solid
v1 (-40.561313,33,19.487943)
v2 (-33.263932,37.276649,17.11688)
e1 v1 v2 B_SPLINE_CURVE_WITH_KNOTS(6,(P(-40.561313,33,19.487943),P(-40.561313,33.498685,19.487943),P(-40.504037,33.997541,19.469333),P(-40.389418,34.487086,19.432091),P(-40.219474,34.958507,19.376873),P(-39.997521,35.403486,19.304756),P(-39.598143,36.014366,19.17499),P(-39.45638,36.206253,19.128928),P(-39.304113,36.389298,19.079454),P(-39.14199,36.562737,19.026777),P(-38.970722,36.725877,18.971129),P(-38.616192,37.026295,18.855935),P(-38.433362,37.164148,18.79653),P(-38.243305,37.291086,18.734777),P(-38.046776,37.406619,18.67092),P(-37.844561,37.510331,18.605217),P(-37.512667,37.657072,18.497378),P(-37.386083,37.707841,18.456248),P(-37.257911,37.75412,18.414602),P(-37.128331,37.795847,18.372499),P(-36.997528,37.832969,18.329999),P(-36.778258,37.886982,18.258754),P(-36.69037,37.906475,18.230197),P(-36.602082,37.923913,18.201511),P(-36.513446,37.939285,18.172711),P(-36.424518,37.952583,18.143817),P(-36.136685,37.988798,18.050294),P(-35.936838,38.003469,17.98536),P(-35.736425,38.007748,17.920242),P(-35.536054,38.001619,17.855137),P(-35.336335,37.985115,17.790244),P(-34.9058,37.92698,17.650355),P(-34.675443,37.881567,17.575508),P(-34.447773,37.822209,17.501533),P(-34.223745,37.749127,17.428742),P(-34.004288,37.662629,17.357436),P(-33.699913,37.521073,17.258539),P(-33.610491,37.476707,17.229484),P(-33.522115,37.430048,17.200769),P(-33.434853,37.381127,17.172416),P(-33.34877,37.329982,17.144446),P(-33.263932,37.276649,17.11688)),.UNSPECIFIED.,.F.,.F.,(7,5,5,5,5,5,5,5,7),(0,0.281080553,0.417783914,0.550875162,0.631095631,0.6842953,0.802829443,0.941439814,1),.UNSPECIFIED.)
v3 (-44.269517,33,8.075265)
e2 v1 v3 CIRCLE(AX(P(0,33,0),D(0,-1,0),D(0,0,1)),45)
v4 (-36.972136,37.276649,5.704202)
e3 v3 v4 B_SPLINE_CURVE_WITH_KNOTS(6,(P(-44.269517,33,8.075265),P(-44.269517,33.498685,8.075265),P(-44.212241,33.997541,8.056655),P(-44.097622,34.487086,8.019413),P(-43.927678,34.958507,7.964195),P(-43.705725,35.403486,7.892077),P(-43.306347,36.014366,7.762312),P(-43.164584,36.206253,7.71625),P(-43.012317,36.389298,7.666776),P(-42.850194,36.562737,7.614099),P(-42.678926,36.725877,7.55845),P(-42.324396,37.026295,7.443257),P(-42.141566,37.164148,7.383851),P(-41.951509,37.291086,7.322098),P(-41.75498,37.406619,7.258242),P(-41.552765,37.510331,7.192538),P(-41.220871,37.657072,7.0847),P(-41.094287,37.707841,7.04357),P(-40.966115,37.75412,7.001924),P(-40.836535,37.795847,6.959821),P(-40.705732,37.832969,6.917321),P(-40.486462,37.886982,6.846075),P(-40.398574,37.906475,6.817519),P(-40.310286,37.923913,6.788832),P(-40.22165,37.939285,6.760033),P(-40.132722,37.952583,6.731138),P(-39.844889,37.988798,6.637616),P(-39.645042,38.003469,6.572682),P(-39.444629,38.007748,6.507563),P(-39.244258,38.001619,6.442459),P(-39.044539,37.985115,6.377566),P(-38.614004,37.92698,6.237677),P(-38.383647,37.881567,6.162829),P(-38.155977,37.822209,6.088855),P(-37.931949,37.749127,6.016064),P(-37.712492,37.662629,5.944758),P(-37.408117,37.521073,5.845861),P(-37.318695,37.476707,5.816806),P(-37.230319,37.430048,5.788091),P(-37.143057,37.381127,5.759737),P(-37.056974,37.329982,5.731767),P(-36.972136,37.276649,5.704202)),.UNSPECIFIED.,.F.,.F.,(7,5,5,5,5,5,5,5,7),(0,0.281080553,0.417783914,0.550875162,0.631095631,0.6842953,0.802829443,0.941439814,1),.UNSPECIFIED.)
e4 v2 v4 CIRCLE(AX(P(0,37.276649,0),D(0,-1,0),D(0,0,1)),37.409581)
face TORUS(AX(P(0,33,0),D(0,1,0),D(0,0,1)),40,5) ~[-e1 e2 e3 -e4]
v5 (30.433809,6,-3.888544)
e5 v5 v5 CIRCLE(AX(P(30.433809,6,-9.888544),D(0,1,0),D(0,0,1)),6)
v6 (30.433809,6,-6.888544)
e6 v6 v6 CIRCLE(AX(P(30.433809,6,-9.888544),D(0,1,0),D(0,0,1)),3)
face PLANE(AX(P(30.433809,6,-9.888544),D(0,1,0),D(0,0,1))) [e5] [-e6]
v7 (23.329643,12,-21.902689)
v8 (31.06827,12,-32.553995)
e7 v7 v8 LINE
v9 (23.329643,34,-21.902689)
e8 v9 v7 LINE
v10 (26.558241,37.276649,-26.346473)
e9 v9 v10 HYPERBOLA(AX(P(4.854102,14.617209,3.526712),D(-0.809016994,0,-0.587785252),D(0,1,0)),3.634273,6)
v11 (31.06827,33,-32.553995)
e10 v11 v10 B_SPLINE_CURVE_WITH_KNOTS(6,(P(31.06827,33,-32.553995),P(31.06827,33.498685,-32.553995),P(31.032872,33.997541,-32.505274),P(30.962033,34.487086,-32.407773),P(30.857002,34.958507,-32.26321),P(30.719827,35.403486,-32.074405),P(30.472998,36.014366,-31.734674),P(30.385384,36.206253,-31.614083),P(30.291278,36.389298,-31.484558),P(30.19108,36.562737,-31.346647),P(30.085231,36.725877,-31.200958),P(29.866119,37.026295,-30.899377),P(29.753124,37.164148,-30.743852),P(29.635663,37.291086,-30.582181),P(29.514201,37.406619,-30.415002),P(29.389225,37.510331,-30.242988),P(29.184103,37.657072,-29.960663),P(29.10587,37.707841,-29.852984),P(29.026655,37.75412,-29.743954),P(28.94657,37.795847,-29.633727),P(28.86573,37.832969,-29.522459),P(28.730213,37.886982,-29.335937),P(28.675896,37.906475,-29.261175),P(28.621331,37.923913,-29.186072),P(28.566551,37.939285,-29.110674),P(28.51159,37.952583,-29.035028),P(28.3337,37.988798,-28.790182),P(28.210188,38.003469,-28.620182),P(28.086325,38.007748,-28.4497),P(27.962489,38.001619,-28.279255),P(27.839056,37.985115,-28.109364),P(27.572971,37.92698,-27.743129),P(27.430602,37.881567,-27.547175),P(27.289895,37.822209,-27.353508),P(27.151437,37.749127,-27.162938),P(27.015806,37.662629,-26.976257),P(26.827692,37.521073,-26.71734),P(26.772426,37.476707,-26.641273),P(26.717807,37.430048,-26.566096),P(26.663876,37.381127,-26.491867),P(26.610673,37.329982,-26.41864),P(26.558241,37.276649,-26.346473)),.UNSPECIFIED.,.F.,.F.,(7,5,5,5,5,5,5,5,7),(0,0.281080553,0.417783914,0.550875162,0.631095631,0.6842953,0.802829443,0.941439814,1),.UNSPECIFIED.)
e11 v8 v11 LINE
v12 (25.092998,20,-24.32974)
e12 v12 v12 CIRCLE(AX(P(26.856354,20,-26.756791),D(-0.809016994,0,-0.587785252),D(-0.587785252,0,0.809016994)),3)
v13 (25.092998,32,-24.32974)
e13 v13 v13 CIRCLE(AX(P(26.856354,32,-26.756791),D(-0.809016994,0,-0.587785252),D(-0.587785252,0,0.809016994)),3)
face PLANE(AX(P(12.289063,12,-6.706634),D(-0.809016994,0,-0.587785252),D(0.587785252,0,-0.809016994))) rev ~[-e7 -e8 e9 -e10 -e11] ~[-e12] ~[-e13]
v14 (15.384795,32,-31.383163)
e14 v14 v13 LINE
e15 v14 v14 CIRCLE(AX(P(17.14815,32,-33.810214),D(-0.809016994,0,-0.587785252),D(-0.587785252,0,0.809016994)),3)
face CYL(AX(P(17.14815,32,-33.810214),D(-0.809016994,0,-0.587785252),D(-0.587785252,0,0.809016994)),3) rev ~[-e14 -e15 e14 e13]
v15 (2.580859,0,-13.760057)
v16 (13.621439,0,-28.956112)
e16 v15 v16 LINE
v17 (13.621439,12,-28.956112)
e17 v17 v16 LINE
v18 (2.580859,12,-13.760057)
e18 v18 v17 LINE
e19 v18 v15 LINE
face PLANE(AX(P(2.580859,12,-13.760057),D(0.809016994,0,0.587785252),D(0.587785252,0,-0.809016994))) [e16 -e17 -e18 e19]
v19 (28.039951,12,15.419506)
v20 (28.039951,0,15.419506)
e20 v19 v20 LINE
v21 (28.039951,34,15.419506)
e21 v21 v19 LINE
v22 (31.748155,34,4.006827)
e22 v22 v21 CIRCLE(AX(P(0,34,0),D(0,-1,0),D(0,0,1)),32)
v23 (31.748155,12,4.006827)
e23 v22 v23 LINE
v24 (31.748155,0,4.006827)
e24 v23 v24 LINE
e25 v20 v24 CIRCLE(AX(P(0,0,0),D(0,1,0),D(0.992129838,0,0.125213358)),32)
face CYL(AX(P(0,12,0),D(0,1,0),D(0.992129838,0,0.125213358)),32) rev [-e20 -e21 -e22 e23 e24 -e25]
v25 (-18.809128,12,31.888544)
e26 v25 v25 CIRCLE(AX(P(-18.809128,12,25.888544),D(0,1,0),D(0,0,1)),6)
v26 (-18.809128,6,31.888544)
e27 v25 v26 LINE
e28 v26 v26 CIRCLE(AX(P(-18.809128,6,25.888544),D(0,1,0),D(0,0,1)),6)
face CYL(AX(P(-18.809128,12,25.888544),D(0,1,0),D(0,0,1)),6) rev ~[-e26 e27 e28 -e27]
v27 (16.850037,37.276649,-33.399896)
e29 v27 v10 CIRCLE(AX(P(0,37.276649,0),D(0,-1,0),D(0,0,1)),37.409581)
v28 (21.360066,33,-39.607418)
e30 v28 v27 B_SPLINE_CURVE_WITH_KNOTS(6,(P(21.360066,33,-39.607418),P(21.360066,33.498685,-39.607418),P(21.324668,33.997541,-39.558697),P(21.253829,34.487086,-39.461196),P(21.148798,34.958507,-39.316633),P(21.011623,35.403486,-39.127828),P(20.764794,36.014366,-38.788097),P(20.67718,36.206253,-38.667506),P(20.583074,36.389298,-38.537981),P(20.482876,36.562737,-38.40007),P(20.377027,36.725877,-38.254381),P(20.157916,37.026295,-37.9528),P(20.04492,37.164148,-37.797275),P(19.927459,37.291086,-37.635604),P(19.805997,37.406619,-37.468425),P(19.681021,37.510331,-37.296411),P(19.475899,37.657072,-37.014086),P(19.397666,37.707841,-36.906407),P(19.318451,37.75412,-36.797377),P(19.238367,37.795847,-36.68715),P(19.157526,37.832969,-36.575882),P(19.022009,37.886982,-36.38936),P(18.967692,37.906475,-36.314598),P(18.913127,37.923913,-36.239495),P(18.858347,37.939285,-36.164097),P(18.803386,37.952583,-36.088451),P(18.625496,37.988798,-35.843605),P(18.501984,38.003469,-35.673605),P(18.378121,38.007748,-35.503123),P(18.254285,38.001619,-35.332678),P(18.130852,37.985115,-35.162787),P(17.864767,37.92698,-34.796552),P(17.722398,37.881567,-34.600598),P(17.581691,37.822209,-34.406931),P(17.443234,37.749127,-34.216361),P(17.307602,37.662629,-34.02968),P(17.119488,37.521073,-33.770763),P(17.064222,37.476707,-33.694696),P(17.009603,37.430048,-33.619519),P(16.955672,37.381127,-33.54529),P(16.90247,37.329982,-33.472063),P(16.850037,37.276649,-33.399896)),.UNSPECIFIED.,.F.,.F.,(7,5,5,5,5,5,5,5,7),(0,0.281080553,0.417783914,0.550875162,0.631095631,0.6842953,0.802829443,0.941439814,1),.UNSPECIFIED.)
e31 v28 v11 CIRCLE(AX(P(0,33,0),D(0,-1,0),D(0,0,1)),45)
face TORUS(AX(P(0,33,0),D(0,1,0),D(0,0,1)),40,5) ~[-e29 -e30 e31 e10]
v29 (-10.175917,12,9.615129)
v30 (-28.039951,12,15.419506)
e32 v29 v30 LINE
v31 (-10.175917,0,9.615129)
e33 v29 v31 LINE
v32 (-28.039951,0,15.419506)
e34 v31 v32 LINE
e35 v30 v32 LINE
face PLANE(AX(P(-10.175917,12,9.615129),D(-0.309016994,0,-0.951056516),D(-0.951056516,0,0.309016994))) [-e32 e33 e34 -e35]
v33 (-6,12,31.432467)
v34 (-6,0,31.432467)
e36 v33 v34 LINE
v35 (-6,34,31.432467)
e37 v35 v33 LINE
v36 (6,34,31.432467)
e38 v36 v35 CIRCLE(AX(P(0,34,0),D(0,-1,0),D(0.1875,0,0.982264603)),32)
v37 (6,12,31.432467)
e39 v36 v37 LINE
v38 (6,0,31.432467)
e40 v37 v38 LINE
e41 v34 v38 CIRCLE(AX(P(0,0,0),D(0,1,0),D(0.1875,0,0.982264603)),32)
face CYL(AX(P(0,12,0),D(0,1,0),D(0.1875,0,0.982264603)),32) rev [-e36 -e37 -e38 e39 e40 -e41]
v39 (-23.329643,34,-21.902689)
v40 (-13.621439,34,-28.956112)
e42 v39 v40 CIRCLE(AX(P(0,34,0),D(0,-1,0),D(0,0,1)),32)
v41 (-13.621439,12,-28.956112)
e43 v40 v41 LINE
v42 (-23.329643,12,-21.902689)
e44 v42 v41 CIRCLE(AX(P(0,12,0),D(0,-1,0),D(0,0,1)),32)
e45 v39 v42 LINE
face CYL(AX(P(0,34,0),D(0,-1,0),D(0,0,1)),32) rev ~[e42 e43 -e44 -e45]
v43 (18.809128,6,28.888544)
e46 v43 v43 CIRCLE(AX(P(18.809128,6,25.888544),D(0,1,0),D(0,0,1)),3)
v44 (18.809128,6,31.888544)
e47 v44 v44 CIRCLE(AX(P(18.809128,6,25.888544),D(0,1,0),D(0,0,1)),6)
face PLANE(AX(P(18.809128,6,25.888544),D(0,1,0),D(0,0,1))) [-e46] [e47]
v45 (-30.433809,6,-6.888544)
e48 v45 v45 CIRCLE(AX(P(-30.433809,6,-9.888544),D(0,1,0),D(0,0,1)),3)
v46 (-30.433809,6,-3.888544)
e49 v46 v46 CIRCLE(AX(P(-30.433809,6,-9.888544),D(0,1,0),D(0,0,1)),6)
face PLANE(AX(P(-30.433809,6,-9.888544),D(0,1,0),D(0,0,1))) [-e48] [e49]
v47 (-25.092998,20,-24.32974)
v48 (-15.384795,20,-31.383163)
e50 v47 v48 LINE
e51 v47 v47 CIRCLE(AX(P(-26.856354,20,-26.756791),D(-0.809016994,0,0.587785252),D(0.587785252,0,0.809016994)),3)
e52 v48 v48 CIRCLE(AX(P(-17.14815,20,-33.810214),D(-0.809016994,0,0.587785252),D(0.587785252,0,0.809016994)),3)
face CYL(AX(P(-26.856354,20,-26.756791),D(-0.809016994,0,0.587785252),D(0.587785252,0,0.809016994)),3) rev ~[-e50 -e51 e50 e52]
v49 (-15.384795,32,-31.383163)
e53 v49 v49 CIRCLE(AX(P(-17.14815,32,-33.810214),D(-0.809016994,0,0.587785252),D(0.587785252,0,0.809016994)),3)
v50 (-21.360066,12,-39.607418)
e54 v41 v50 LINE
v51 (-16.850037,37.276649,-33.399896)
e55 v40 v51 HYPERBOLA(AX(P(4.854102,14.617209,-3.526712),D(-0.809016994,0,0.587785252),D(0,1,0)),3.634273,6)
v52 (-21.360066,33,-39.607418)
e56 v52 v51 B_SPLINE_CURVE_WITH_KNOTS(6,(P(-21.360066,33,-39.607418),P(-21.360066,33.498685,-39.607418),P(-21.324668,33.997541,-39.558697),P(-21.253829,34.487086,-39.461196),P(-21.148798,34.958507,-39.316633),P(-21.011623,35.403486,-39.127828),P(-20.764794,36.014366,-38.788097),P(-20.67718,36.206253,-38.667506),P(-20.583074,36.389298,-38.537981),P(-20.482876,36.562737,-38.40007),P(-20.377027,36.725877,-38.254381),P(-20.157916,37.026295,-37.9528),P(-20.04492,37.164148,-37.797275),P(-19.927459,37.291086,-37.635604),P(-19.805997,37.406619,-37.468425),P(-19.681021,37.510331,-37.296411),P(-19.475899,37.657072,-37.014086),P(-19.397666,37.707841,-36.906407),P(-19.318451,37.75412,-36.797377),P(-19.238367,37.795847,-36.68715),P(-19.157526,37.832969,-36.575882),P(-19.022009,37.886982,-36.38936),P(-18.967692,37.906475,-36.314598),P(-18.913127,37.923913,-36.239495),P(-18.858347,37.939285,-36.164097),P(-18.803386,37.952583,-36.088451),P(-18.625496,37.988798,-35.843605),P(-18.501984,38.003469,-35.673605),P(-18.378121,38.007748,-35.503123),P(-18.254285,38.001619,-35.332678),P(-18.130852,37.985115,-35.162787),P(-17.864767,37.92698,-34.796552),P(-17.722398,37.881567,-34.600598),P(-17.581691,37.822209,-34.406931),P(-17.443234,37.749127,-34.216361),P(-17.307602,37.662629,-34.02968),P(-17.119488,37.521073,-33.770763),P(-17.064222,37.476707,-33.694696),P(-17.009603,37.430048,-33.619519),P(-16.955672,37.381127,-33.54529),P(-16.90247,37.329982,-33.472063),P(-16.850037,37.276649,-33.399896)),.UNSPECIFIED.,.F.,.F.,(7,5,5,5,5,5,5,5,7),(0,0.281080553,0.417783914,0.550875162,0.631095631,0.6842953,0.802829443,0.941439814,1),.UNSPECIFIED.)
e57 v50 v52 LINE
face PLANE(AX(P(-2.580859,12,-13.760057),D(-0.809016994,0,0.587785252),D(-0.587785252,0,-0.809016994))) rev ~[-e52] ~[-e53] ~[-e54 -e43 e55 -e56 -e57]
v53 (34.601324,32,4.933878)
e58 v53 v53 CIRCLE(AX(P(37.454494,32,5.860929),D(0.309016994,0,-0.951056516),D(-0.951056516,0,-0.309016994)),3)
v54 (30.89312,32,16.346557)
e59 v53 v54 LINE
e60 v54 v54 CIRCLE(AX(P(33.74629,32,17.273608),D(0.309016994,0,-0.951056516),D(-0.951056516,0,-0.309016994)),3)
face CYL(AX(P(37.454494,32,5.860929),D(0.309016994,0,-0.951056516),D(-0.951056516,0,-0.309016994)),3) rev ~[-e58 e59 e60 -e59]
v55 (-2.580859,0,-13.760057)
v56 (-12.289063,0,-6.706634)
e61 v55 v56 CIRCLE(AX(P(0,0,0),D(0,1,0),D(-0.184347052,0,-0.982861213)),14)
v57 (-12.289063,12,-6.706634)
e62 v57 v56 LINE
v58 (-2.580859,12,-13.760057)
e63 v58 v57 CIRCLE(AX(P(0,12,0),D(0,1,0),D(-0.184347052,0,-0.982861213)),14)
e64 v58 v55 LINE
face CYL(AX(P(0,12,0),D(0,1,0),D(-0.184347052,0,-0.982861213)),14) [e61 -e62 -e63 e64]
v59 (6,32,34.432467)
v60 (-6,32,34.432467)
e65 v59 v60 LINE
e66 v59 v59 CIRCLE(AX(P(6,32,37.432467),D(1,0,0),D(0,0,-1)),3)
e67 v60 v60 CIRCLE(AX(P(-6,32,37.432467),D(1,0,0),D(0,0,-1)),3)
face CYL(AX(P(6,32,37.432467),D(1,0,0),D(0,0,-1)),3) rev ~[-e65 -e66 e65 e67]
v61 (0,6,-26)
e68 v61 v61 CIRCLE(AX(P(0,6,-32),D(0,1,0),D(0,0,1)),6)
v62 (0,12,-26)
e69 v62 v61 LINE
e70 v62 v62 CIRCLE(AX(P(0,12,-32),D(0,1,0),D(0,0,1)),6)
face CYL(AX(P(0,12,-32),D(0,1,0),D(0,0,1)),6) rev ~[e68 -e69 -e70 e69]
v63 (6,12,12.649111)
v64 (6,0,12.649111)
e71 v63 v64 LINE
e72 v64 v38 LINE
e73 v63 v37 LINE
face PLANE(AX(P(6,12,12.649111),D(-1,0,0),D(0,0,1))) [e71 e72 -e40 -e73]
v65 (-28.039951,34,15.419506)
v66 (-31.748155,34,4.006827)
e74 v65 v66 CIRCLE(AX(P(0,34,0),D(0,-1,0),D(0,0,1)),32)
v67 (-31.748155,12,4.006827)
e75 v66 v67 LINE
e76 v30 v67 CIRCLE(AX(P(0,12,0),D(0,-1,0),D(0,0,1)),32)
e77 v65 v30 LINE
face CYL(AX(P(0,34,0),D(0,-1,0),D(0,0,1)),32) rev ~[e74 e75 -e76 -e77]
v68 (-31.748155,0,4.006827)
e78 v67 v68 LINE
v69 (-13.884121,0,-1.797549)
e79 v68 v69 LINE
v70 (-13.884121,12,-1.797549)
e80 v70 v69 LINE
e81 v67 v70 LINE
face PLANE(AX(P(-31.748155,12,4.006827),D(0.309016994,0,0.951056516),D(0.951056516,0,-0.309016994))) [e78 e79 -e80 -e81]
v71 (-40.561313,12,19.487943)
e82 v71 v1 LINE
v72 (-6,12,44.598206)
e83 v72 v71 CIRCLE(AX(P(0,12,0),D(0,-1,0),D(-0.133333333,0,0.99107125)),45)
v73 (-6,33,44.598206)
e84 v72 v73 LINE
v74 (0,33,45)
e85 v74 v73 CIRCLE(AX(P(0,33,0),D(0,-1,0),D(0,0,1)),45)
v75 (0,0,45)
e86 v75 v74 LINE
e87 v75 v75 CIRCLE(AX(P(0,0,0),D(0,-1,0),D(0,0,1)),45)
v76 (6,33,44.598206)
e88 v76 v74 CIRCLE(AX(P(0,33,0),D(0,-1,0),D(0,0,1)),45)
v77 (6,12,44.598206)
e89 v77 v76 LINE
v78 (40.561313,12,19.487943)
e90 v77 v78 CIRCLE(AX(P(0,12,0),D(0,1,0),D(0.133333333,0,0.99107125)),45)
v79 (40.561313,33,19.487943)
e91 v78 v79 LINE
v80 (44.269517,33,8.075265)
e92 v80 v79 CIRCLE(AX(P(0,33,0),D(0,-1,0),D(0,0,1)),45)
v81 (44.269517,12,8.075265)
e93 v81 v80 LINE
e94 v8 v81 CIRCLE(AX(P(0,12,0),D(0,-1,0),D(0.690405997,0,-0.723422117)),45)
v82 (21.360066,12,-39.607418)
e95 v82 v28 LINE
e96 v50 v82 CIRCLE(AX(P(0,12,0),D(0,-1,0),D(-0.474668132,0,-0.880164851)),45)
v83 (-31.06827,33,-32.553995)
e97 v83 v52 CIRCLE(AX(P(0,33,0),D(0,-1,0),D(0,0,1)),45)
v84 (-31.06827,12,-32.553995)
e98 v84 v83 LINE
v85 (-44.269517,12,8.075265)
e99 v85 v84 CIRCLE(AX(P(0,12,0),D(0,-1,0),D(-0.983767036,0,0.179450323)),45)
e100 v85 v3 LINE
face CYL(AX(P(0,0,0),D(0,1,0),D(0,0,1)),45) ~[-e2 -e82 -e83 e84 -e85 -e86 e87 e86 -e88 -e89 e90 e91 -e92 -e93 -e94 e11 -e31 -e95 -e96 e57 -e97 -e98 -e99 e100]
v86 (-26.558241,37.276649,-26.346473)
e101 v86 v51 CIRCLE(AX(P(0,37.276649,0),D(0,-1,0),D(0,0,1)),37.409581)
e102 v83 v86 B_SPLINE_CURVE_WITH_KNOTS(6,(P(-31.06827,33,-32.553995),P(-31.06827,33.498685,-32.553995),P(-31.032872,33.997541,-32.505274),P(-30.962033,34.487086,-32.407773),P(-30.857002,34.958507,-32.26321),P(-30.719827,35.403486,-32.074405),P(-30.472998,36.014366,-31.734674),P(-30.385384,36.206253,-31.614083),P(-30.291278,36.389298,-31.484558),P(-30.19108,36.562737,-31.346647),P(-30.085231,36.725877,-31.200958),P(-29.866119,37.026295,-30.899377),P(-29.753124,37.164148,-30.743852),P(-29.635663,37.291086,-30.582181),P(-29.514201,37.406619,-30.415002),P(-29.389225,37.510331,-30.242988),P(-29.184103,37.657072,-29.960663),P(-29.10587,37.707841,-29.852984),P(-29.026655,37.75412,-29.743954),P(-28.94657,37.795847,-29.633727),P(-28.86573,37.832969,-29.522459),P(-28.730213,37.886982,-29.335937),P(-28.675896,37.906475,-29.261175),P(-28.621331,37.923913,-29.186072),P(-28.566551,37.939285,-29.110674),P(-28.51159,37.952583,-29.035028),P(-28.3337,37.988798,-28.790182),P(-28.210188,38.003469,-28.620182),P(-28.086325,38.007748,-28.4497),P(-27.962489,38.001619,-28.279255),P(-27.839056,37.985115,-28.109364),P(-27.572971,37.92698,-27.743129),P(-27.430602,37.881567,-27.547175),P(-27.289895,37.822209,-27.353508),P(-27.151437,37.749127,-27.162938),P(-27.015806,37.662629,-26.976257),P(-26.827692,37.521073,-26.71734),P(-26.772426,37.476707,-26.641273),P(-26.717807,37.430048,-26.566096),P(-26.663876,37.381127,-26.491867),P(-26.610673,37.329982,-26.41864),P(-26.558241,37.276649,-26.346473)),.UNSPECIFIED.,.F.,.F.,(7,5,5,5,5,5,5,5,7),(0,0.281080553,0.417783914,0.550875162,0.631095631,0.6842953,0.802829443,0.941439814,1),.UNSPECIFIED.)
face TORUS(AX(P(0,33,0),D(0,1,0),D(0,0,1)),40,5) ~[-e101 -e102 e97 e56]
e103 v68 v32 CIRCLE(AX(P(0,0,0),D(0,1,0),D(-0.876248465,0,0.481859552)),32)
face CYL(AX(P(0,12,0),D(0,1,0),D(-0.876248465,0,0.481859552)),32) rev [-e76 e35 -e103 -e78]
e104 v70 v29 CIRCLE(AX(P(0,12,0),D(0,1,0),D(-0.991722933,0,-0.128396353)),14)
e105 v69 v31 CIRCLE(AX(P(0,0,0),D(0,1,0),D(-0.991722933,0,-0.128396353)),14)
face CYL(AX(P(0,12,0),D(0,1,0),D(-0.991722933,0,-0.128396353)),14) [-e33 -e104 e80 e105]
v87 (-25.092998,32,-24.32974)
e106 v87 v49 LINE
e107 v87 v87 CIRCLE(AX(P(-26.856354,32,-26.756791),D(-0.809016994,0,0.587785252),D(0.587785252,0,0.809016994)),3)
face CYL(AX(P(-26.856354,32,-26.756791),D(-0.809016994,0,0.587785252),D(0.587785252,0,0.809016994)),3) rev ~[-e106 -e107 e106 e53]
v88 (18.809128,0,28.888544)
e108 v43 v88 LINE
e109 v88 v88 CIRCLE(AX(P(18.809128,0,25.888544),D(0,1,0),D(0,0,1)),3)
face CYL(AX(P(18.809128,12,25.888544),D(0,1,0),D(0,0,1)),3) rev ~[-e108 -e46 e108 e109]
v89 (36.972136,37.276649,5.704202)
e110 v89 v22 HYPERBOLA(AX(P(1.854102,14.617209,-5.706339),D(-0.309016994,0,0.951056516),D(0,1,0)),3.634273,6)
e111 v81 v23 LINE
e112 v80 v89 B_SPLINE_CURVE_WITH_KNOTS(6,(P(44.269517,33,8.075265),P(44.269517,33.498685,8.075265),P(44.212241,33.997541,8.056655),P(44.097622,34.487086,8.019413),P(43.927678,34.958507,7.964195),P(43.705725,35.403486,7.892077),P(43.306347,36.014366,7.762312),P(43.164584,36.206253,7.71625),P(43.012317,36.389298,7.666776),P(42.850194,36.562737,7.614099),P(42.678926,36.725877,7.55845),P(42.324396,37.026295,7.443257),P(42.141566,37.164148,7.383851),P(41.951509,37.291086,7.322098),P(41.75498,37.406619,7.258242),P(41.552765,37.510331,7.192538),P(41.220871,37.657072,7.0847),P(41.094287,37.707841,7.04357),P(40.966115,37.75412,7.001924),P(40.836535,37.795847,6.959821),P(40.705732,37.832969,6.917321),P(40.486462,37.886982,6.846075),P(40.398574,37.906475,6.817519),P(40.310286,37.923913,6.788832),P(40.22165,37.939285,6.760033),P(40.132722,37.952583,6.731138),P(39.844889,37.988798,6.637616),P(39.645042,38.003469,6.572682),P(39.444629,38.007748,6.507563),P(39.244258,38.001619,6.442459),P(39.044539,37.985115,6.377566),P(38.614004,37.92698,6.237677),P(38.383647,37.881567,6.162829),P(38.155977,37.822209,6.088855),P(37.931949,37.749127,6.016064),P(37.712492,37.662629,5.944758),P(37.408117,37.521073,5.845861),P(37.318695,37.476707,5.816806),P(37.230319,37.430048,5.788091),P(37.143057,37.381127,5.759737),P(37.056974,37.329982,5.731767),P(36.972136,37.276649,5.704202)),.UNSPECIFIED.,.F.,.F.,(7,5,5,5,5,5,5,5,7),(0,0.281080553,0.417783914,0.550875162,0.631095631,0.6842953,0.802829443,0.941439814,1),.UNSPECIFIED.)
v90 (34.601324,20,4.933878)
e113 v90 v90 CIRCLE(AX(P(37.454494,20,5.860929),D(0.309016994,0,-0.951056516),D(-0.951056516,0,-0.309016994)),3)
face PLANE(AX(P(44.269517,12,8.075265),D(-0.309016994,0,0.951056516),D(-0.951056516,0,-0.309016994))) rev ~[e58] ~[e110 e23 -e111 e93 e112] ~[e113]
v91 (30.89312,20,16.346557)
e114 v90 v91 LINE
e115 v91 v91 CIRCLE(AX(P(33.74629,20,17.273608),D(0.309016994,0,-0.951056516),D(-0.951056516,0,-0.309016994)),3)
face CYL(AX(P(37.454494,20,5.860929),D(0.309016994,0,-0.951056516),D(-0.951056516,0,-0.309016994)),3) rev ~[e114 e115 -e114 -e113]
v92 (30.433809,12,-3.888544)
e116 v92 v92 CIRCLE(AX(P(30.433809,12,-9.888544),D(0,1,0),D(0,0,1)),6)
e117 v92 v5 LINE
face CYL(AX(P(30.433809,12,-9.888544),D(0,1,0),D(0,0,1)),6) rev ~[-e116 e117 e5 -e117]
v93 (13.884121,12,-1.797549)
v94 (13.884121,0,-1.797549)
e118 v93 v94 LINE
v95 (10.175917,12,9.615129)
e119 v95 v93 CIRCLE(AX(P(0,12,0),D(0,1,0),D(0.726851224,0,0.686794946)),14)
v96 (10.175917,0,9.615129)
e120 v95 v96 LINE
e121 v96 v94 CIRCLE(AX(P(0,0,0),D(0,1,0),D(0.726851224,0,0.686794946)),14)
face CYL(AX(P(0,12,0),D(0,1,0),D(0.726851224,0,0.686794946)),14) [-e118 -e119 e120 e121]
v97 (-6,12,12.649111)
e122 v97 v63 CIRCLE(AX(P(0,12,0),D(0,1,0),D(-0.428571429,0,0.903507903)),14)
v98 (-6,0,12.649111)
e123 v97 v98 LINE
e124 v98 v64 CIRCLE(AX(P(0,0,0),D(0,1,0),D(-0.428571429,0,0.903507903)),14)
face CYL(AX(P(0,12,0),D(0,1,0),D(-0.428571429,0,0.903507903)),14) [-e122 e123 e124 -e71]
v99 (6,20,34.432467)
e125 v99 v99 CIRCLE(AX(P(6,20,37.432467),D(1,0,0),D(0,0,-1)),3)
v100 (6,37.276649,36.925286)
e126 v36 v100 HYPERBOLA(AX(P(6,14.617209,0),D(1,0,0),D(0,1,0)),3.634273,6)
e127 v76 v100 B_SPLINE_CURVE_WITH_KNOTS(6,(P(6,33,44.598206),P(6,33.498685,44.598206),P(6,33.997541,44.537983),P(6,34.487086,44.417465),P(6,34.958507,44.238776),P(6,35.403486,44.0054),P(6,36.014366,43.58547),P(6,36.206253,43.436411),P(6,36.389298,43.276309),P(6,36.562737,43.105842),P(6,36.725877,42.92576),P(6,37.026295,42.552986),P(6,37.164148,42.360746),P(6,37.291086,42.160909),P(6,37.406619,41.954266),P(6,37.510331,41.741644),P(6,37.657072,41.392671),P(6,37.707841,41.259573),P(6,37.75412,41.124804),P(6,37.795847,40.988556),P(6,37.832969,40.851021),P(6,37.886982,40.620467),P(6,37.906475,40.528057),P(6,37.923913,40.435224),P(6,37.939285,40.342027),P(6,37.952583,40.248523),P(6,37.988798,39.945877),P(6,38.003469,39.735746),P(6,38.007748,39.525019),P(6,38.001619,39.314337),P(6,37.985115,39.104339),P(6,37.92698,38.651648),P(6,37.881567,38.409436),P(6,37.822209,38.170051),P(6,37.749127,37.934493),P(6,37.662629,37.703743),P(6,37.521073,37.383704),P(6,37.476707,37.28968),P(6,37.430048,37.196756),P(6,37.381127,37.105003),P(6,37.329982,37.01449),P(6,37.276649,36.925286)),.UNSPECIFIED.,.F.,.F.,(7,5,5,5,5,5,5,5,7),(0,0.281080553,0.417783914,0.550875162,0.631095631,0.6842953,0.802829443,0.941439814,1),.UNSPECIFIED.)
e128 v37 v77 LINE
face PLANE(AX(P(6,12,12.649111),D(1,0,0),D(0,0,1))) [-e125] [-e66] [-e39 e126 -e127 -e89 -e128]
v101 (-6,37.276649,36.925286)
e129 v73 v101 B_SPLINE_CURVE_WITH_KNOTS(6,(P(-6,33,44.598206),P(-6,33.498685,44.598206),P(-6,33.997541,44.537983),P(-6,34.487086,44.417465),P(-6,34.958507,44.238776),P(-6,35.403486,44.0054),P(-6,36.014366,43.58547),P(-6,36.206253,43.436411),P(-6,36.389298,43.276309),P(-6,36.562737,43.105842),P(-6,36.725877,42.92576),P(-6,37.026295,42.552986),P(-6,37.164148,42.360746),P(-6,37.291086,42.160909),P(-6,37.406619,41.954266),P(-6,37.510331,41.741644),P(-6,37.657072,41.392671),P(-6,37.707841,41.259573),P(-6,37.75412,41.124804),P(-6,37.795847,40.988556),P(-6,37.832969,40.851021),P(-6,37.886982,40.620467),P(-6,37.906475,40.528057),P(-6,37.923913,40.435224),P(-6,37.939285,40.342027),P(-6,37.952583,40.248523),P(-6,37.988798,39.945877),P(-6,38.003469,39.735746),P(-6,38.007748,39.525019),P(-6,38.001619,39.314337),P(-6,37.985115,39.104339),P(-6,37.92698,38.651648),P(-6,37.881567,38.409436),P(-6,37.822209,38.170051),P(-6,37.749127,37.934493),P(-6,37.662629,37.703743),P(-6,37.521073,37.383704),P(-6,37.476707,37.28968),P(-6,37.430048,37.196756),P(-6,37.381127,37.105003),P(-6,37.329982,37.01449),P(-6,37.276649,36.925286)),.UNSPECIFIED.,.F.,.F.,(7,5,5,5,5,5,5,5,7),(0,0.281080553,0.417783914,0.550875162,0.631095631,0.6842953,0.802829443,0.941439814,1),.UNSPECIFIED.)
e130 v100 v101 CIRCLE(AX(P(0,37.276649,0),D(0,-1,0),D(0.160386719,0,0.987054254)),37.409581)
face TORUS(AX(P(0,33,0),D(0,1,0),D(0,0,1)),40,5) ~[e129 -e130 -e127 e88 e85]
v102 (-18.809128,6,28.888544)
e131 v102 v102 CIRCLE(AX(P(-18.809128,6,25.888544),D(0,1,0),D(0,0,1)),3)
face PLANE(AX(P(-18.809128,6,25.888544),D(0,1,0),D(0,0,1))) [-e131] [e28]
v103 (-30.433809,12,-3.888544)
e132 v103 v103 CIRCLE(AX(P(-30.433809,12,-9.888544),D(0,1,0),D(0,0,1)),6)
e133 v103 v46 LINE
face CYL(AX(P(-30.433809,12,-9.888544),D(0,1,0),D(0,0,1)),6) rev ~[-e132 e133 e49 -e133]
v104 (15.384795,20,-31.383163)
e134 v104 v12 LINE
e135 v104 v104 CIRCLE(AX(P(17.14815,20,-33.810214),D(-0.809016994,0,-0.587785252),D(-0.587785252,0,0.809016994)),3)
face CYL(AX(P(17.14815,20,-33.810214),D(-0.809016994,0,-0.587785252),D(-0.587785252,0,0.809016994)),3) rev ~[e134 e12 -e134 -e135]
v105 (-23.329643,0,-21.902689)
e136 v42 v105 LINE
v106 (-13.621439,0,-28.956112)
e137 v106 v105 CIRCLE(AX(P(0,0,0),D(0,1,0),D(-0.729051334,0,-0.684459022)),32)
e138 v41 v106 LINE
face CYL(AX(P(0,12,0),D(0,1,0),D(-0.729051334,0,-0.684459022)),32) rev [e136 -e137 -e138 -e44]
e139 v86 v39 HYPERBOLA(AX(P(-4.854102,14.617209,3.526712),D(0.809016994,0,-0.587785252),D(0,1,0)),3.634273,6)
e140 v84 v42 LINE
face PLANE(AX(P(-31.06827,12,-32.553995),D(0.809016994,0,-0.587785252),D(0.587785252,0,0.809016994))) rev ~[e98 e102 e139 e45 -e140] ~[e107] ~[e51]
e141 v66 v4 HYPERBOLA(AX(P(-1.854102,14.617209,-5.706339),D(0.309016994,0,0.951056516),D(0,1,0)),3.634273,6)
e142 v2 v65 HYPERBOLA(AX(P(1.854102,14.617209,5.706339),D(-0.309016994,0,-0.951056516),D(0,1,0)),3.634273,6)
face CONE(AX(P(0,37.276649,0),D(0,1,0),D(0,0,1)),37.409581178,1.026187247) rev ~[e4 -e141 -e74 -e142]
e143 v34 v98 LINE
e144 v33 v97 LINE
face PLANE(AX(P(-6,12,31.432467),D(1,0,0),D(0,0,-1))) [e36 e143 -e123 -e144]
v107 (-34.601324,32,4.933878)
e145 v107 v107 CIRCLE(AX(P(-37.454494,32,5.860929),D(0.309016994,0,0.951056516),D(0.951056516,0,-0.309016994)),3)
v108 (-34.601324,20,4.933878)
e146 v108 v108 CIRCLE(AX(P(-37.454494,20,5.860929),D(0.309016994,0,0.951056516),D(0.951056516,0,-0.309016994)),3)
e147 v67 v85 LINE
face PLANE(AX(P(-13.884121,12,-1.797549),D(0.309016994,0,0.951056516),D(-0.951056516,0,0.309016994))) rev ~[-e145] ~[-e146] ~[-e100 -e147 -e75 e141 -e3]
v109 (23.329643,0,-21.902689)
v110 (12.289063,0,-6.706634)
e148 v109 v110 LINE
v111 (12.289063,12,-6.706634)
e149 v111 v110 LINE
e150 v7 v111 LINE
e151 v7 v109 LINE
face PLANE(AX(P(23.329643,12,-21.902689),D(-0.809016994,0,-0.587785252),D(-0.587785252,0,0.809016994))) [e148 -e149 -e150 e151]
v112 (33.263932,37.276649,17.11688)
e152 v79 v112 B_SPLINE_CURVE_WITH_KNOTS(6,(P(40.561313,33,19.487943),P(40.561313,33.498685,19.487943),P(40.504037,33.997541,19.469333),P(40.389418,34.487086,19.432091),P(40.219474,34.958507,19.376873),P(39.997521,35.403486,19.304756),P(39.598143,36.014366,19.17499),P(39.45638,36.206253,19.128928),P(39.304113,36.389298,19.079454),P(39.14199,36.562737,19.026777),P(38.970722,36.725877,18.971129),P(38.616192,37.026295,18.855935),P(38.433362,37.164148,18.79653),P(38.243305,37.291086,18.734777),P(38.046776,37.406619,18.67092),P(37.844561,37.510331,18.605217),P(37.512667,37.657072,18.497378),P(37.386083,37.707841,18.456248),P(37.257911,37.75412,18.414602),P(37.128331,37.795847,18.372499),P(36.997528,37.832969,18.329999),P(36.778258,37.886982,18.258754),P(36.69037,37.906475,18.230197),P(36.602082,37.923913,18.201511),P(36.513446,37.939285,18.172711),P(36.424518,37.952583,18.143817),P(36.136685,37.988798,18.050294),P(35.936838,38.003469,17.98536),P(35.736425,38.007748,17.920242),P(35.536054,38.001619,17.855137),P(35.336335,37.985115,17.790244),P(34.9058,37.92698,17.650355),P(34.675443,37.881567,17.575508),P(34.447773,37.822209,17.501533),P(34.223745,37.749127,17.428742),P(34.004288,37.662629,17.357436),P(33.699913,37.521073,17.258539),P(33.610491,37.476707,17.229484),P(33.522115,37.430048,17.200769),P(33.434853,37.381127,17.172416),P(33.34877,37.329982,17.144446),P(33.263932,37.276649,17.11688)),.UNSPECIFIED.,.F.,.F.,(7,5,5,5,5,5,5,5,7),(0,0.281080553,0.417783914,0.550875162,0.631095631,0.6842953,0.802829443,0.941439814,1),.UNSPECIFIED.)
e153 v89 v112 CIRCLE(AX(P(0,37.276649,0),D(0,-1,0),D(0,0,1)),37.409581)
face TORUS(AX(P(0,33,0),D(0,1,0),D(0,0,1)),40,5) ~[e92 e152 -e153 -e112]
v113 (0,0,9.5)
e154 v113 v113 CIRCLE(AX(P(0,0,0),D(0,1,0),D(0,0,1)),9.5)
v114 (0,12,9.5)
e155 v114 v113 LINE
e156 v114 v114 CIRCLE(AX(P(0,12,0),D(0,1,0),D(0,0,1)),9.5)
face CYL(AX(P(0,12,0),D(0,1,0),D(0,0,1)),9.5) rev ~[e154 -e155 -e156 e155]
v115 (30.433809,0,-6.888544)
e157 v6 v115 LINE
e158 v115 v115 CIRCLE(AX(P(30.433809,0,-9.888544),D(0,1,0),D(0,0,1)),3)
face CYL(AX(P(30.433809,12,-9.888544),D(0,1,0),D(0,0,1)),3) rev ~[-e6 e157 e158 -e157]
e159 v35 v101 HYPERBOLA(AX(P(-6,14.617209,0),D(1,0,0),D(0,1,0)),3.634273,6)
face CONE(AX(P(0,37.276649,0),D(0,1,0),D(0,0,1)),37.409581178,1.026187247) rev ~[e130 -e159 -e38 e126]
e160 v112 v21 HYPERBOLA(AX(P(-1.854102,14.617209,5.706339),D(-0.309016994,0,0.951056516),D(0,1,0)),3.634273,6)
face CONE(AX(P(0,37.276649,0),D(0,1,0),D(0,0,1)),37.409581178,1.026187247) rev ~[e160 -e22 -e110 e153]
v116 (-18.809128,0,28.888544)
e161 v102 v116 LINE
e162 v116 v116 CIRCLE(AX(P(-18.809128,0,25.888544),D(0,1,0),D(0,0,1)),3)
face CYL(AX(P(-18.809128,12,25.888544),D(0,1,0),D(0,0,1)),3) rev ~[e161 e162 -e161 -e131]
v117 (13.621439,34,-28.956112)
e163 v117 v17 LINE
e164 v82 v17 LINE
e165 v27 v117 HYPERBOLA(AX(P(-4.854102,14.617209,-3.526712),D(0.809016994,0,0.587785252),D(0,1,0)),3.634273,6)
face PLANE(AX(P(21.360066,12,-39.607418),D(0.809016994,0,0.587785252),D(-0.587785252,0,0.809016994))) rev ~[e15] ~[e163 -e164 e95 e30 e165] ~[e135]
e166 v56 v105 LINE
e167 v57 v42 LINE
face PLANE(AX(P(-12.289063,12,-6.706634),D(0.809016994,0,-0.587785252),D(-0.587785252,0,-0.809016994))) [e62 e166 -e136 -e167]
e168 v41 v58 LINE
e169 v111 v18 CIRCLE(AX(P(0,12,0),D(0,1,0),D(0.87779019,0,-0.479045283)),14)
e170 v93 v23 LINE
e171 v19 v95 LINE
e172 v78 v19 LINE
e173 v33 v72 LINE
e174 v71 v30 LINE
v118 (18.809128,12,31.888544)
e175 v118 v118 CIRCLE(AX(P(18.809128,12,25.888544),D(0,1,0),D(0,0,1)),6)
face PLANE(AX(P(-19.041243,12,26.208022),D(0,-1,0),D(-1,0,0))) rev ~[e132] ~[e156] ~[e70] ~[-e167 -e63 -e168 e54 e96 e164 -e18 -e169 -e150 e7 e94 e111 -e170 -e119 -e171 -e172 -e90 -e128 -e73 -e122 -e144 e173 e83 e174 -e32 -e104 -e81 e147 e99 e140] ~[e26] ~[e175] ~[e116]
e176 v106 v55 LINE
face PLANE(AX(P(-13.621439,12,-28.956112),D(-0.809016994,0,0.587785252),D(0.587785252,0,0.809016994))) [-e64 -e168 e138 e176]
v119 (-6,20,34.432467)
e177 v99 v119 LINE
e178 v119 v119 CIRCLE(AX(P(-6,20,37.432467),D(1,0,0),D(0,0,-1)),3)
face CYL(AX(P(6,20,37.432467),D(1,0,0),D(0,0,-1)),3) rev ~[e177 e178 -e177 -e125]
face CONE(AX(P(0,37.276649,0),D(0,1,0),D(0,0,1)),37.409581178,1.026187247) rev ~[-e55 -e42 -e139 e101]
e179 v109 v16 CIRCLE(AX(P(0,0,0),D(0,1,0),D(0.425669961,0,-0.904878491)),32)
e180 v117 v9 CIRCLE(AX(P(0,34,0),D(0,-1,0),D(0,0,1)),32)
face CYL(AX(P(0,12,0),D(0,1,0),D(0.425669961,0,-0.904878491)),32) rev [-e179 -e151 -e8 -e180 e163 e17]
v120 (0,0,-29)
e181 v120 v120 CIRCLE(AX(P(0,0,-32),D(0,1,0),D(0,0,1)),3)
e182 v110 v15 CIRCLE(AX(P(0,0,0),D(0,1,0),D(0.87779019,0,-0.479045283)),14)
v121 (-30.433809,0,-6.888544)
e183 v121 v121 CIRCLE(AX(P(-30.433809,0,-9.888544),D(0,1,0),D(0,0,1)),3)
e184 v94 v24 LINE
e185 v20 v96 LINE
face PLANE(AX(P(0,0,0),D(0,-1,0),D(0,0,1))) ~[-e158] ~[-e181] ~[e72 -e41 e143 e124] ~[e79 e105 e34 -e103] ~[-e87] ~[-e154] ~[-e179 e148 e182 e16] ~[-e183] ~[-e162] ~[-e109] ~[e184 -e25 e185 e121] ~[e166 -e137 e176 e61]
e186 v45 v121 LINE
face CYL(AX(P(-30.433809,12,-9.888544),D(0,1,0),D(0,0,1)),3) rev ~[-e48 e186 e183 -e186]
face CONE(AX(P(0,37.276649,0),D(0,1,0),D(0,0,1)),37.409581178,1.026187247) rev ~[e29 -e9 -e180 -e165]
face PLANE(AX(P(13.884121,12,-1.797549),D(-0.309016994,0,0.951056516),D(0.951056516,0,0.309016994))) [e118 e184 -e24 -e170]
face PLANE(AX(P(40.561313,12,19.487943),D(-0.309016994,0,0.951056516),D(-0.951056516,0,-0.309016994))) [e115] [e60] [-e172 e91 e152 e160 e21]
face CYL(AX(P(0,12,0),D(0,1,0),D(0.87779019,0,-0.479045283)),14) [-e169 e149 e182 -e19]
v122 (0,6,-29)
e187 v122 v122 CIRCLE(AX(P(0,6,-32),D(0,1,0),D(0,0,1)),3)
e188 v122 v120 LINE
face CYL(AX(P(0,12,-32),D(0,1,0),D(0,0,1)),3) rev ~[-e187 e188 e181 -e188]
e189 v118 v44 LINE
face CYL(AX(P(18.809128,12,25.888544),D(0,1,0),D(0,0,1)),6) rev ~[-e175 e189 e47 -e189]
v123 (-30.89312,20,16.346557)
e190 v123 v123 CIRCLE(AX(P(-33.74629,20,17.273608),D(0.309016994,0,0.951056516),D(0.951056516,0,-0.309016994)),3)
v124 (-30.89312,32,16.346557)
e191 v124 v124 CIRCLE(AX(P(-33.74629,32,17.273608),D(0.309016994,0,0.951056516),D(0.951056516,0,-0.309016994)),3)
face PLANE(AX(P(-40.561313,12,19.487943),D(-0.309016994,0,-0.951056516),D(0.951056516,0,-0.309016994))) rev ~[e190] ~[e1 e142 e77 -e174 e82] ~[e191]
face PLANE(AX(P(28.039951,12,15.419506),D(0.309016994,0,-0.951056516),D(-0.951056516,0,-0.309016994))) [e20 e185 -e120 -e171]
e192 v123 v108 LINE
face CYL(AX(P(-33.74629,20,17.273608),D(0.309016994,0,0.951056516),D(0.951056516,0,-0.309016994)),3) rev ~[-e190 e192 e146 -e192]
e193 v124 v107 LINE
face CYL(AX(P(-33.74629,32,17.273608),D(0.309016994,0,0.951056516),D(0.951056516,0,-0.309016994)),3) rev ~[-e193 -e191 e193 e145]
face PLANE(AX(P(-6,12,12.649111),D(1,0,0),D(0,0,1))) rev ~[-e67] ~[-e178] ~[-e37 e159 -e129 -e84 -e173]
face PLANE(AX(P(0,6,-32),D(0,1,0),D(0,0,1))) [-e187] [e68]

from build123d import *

# Parameters (mm, degrees)
CUT_EXTRUDE_2_DEPTH      = 69.74590907246773
SKETCH_6_R               = 3.000000000000353
SKETCH_6_R_2             = 9.5
SKETCH_6_R_3             = 3.0000000000000013
SKETCH_6_R_4             = 3.0000000000001754
SKETCH_6_R_5             = 3.0000000000002696
SKETCH_6_R_6             = 3.0000000000000875
CUT_EXTRUDE_3_DEPTH      = 69.74590907417861
SKETCH_7_R               = 5.999999999999999
SKETCH_7_R_2             = 3.0000000000000013
SKETCH_7_R_3             = 6.0000000000003535
SKETCH_7_R_4             = 3.000000000000353
SKETCH_7_R_5             = 6.00000000000009
SKETCH_7_R_6             = 3.0000000000000875
SKETCH_7_R_7             = 6.000000000000174
SKETCH_7_R_8             = 3.0000000000001754
SKETCH_7_R_9             = 6.00000000000027
SKETCH_7_R_10            = 3.000000000000269
CUT_EXTRUDE_4_DEPTH      = 6
CUT_EXTRUDE_5_REACH      = 81.273
SKETCH_8_R               = 3.0000000000000018
PATTERN_CIRCULAR_1_COUNT = 5


with BuildPart() as part:
    # 草图2 → 旋转1 (revolve)
    with BuildSketch(Plane(origin=(0, 0, 0), x_dir=(0, 0, -1), z_dir=(1, 0, 0))):
        with BuildLine():
            Line((0, 0), (-45, -6.94e-15))
            Line((-45, -6.94e-15), (-45, 33))
            ThreePointArc((-45, 33), (-42.454374247383356, 37.35615048566752), (-37.40958117848744, 37.27664942789954))
            Line((-37.40958117848744, 37.27664942789954), (-31.99999999999998, 34))
            Line((-31.99999999999998, 34), (-31.999999999999993, 12))
            Line((-31.999999999999993, 12), (3.86e-15, 12))
            Line((3.86e-15, 12), (0, 0))
        make_face()
    revolve(axis=Axis((0, 43.5345852345433, 0), (0, -1, 0)))

    # 草图3 → 切除-拉伸2 (cut, through all)
    with BuildSketch(Plane(origin=(0, 12, 0), x_dir=(1, 0, 0), z_dir=(0, 1, 0))):
        with BuildLine():
            Line((6.000000000000002, -12.649110640673518), (6.000000000000003, -44.59820624195551))
            ThreePointArc((6.000000000000003, -44.59820624195551), (26.450336353161088, -36.40576474687278), (40.561312695237085, -19.48794274517449))
            Line((40.561312695237085, -19.48794274517449), (10.175917133901121, -9.615129249468135))
            ThreePointArc((10.175917133901121, -9.615129249468135), (8.228993532094561, -11.326237921249312), (6.000000000000002, -12.649110640673518))
        make_face()
        with BuildLine():
            Line((-5.999999999999998, -12.649110640673518), (-5.999999999999992, -44.59820624195551))
            ThreePointArc((-5.999999999999992, -44.59820624195551), (-26.45033635316134, -36.405764746872606), (-40.56131269523736, -19.487942745173925))
            Line((-40.56131269523736, -19.487942745173925), (-10.175917133901258, -9.61512924946799))
            ThreePointArc((-10.175917133901258, -9.61512924946799), (-8.228993532094645, -11.326237921249254), (-5.999999999999998, -12.649110640673518))
        make_face()
        with BuildLine():
            Line((-13.884121066400596, 1.7975489460738636), (-44.2695166277367, -8.075264549632074))
            ThreePointArc((-44.2695166277367, -8.075264549632074), (-42.797543233281836, 13.905764746872823), (-31.068269873969072, 32.553995254626194))
            Line((-31.068269873969072, 32.553995254626194), (-12.289062655453339, 6.706633958279081))
            ThreePointArc((-12.289062655453339, 6.706633958279081), (-13.314791228132133, 4.3262379212493185), (-13.884121066400596, 1.7975489460738636))
        make_face()
        with BuildLine():
            Line((-2.5808587229539293, 13.760056985788705), (-21.36006594146967, 39.60741828213582))
            ThreePointArc((-21.36006594146967, 39.60741828213582), (3.225e-13, 44.999999999999986), (21.360065941470232, 39.60741828213551))
            Line((21.360065941470232, 39.60741828213551), (2.5808587229541256, 13.760056985788673))
            ThreePointArc((2.5808587229541256, 13.760056985788673), (1.0033e-13, 14.000000000000002), (-2.5808587229539293, 13.760056985788705))
        make_face()
        with BuildLine():
            Line((12.289062655453431, 6.70663395827891), (31.068269873969538, 32.55399525462576))
            ThreePointArc((31.068269873969538, 32.55399525462576), (42.79754323328205, 13.905764746872206), (44.26951662773658, -8.075264549632692))
            Line((44.26951662773658, -8.075264549632692), (13.88412106640062, 1.797548946073666))
            ThreePointArc((13.88412106640062, 1.797548946073666), (13.314791228132195, 4.32623792124913), (12.289062655453431, 6.70663395827891))
        make_face()
    extrude(amount=CUT_EXTRUDE_2_DEPTH, mode=Mode.SUBTRACT)

    # 草图6 → 切除-拉伸3 (cut, through all)
    with BuildSketch(Plane(origin=(0, 12, 0), x_dir=(1, 0, 0), z_dir=(0, 1, 0))):
        with BuildLine():
            ThreePointArc((12.289062655453431, 6.7066339582789105), (8.228993532094725, 11.326237921249191), (2.580858722954132, 13.760056985788669))
            Line((2.580858722954132, 13.760056985788669), (13.62143875056792, 28.956111727311136))
            ThreePointArc((13.62143875056792, 28.956111727311136), (18.809128073359357, 25.888543819998144), (23.329642683067217, 21.90268869980138))
            Line((23.329642683067217, 21.90268869980138), (12.289062655453431, 6.7066339582789105))
        make_face()
        with BuildLine():
            ThreePointArc((10.175917133901127, -9.615129249468133), (13.314791228132105, -4.326237921249419), (13.88412106640062, 1.7975489460736591))
            Line((13.88412106640062, 1.7975489460736591), (31.7481548065927, -4.006827470284166))
            ThreePointArc((31.7481548065927, -4.006827470284166), (30.433808521444792, -9.888543819998658), (28.039950874093208, -15.419505665825957))
            Line((28.039950874093208, -15.419505665825957), (10.175917133901127, -9.615129249468133))
        make_face()
        with BuildLine():
            ThreePointArc((-5.999999999999995, -12.649110640673522), (8.6e-16, -14.000000000000002), (5.999999999999995, -12.649110640673522))
            Line((5.999999999999995, -12.649110640673522), (5.999999999999995, -31.43246729100341))
            ThreePointArc((5.999999999999995, -31.43246729100341), (1.96e-15, -31.999999999999986), (-5.999999999999995, -31.43246729100341))
            Line((-5.999999999999995, -31.43246729100341), (-5.999999999999995, -12.649110640673522))
        make_face()
        with BuildLine():
            ThreePointArc((-13.884121066400597, 1.7975489460738576), (-13.314791228132165, -4.326237921249228), (-10.175917133901264, -9.615129249467987))
            Line((-10.175917133901264, -9.615129249467987), (-28.03995087409343, -15.419505665825561))
            ThreePointArc((-28.03995087409343, -15.419505665825561), (-30.43380852144493, -9.888543819998239), (-31.748154806592765, -4.006827470283715))
            Line((-31.748154806592765, -4.006827470283715), (-13.884121066400597, 1.7975489460738576))
        make_face()
        with BuildLine():
            ThreePointArc((-2.5808587229539373, 13.760056985788708), (-8.228993532094563, 11.326237921249309), (-12.289062655453337, 6.706633958279092))
            Line((-12.289062655453337, 6.706633958279092), (-23.32964268306691, 21.902688699801722))
            ThreePointArc((-23.32964268306691, 21.902688699801722), (-18.80912807335899, 25.888543819998407), (-13.621438750567506, 28.956111727311335))
            Line((-13.621438750567506, 28.956111727311335), (-2.5808587229539373, 13.760056985788708))
        make_face()
        with Locations(Location((-30.433808521444917, 9.888543819998311, 0), (0, 0, 270))):
            Circle(SKETCH_6_R)
        with Locations(Location((0, 0, 0), (0, 0, 270))):
            Circle(SKETCH_6_R_2)
        with Locations(Location((0, 32, 0), (0, 0, 270))):
            Circle(SKETCH_6_R_3)
        with Locations(Location((18.809128073359144, -25.888543819998315, 0), (0, 0, 270))):
            Circle(SKETCH_6_R_4)
        with Locations(Location((-18.80912807335914, -25.888543819998322, 0), (0, 0, 270))):
            Circle(SKETCH_6_R_5)
        with Locations(Location((30.433808521444917, 9.888543819998324, 0), (0, 0, 270))):
            Circle(SKETCH_6_R_6)
    extrude(amount=-CUT_EXTRUDE_3_DEPTH, mode=Mode.SUBTRACT)

    # 草图7 → 切除-拉伸4 (cut)
    # profile 1 of 5: a face of its own
    with BuildSketch(Plane(origin=(0, 12, 0), x_dir=(1, 0, 0), z_dir=(0, 1, 0))):
        with Locations(Location((0, 32, 0), (0, 0, 270))):
            Circle(SKETCH_7_R)
        with Locations(Location((0, 32, 0), (0, 0, 270))):
            Circle(SKETCH_7_R_2, mode=Mode.SUBTRACT)
    # profile 2 of 5: a face of its own
    with BuildSketch(Plane(origin=(0, 12, 0), x_dir=(1, 0, 0), z_dir=(0, 1, 0))):
        with Locations(Location((-30.433808521444917, 9.888543819998311, 0), (0, 0, 270))):
            Circle(SKETCH_7_R_3)
        with Locations(Location((-30.433808521444917, 9.888543819998311, 0), (0, 0, 270))):
            Circle(SKETCH_7_R_4, mode=Mode.SUBTRACT)
    # profile 3 of 5: a face of its own
    with BuildSketch(Plane(origin=(0, 12, 0), x_dir=(1, 0, 0), z_dir=(0, 1, 0))):
        with Locations(Location((30.433808521444917, 9.888543819998324, 0), (0, 0, 270))):
            Circle(SKETCH_7_R_5)
        with Locations(Location((30.433808521444917, 9.888543819998324, 0), (0, 0, 270))):
            Circle(SKETCH_7_R_6, mode=Mode.SUBTRACT)
    # profile 4 of 5: a face of its own
    with BuildSketch(Plane(origin=(0, 12, 0), x_dir=(1, 0, 0), z_dir=(0, 1, 0))):
        with Locations(Location((18.809128073359144, -25.888543819998315, 0), (0, 0, 270))):
            Circle(SKETCH_7_R_7)
        with Locations(Location((18.809128073359144, -25.888543819998315, 0), (0, 0, 270))):
            Circle(SKETCH_7_R_8, mode=Mode.SUBTRACT)
    # profile 5 of 5: a face of its own
    with BuildSketch(Plane(origin=(0, 12, 0), x_dir=(1, 0, 0), z_dir=(0, 1, 0))):
        with Locations(Location((-18.80912807335914, -25.888543819998322, 0), (0, 0, 270))):
            Circle(SKETCH_7_R_9)
        with Locations(Location((-18.80912807335914, -25.888543819998322, 0), (0, 0, 270))):
            Circle(SKETCH_7_R_10, mode=Mode.SUBTRACT)
    extrude(amount=-CUT_EXTRUDE_4_DEPTH, mode=Mode.SUBTRACT)

    # 草图8 → 切除-拉伸5 (cut, up to next)
    with BuildSketch(Plane(origin=(-4.854101966249707, 0, 3.5267115137548144), x_dir=(0.5877852522924687, 0, 0.8090169943749507), z_dir=(-0.8090169943749507, 0, 0.5877852522924687)), mode=Mode.PRIVATE) as cut_extrude_5_sk1:
        with Locations((-37.4324672910034, 32)):
            Circle(SKETCH_8_R)
    cut_extrude_5_tool1 = extrude(cut_extrude_5_sk1.sketch, amount=-CUT_EXTRUDE_5_REACH, mode=Mode.PRIVATE) & part.part
    # 草图8 → 切除-拉伸5 (cut, up to next)
    with BuildSketch(Plane(origin=(-4.854101966249707, 0, 3.5267115137548144), x_dir=(0.5877852522924687, 0, 0.8090169943749507), z_dir=(-0.8090169943749507, 0, 0.5877852522924687)), mode=Mode.PRIVATE) as cut_extrude_5_sk2:
        with Locations((-37.4324672910034, 19.999999999999993)):
            Circle(SKETCH_8_R)
    cut_extrude_5_tool2 = extrude(cut_extrude_5_sk2.sketch, amount=-CUT_EXTRUDE_5_REACH, mode=Mode.PRIVATE) & part.part
    cut_extrude_5_1 = cut_extrude_5_tool1.solids().sort_by_distance((-26.856354, 32, -26.756791))[0]
    add(cut_extrude_5_1, mode=Mode.SUBTRACT)
    cut_extrude_5_2 = cut_extrude_5_tool2.solids().sort_by_distance((-26.856354, 20, -26.756791))[0]
    add(cut_extrude_5_2, mode=Mode.SUBTRACT)
    cut_extrude_5 = cut_extrude_5_1 + cut_extrude_5_2  # 切除-拉伸5 as one shape, for the pattern or mirror that repeats it

    # 阵列(圆周)1: 切除-拉伸5 ×5 about axis
    pattern_circular_1_axis = Axis((0, 12, 0), (0, 1, 0))
    for i in range(1, PATTERN_CIRCULAR_1_COUNT):
        add(cut_extrude_5.rotate(pattern_circular_1_axis, i * 360 / PATTERN_CIRCULAR_1_COUNT), mode=Mode.SUBTRACT)


solid = part.part
